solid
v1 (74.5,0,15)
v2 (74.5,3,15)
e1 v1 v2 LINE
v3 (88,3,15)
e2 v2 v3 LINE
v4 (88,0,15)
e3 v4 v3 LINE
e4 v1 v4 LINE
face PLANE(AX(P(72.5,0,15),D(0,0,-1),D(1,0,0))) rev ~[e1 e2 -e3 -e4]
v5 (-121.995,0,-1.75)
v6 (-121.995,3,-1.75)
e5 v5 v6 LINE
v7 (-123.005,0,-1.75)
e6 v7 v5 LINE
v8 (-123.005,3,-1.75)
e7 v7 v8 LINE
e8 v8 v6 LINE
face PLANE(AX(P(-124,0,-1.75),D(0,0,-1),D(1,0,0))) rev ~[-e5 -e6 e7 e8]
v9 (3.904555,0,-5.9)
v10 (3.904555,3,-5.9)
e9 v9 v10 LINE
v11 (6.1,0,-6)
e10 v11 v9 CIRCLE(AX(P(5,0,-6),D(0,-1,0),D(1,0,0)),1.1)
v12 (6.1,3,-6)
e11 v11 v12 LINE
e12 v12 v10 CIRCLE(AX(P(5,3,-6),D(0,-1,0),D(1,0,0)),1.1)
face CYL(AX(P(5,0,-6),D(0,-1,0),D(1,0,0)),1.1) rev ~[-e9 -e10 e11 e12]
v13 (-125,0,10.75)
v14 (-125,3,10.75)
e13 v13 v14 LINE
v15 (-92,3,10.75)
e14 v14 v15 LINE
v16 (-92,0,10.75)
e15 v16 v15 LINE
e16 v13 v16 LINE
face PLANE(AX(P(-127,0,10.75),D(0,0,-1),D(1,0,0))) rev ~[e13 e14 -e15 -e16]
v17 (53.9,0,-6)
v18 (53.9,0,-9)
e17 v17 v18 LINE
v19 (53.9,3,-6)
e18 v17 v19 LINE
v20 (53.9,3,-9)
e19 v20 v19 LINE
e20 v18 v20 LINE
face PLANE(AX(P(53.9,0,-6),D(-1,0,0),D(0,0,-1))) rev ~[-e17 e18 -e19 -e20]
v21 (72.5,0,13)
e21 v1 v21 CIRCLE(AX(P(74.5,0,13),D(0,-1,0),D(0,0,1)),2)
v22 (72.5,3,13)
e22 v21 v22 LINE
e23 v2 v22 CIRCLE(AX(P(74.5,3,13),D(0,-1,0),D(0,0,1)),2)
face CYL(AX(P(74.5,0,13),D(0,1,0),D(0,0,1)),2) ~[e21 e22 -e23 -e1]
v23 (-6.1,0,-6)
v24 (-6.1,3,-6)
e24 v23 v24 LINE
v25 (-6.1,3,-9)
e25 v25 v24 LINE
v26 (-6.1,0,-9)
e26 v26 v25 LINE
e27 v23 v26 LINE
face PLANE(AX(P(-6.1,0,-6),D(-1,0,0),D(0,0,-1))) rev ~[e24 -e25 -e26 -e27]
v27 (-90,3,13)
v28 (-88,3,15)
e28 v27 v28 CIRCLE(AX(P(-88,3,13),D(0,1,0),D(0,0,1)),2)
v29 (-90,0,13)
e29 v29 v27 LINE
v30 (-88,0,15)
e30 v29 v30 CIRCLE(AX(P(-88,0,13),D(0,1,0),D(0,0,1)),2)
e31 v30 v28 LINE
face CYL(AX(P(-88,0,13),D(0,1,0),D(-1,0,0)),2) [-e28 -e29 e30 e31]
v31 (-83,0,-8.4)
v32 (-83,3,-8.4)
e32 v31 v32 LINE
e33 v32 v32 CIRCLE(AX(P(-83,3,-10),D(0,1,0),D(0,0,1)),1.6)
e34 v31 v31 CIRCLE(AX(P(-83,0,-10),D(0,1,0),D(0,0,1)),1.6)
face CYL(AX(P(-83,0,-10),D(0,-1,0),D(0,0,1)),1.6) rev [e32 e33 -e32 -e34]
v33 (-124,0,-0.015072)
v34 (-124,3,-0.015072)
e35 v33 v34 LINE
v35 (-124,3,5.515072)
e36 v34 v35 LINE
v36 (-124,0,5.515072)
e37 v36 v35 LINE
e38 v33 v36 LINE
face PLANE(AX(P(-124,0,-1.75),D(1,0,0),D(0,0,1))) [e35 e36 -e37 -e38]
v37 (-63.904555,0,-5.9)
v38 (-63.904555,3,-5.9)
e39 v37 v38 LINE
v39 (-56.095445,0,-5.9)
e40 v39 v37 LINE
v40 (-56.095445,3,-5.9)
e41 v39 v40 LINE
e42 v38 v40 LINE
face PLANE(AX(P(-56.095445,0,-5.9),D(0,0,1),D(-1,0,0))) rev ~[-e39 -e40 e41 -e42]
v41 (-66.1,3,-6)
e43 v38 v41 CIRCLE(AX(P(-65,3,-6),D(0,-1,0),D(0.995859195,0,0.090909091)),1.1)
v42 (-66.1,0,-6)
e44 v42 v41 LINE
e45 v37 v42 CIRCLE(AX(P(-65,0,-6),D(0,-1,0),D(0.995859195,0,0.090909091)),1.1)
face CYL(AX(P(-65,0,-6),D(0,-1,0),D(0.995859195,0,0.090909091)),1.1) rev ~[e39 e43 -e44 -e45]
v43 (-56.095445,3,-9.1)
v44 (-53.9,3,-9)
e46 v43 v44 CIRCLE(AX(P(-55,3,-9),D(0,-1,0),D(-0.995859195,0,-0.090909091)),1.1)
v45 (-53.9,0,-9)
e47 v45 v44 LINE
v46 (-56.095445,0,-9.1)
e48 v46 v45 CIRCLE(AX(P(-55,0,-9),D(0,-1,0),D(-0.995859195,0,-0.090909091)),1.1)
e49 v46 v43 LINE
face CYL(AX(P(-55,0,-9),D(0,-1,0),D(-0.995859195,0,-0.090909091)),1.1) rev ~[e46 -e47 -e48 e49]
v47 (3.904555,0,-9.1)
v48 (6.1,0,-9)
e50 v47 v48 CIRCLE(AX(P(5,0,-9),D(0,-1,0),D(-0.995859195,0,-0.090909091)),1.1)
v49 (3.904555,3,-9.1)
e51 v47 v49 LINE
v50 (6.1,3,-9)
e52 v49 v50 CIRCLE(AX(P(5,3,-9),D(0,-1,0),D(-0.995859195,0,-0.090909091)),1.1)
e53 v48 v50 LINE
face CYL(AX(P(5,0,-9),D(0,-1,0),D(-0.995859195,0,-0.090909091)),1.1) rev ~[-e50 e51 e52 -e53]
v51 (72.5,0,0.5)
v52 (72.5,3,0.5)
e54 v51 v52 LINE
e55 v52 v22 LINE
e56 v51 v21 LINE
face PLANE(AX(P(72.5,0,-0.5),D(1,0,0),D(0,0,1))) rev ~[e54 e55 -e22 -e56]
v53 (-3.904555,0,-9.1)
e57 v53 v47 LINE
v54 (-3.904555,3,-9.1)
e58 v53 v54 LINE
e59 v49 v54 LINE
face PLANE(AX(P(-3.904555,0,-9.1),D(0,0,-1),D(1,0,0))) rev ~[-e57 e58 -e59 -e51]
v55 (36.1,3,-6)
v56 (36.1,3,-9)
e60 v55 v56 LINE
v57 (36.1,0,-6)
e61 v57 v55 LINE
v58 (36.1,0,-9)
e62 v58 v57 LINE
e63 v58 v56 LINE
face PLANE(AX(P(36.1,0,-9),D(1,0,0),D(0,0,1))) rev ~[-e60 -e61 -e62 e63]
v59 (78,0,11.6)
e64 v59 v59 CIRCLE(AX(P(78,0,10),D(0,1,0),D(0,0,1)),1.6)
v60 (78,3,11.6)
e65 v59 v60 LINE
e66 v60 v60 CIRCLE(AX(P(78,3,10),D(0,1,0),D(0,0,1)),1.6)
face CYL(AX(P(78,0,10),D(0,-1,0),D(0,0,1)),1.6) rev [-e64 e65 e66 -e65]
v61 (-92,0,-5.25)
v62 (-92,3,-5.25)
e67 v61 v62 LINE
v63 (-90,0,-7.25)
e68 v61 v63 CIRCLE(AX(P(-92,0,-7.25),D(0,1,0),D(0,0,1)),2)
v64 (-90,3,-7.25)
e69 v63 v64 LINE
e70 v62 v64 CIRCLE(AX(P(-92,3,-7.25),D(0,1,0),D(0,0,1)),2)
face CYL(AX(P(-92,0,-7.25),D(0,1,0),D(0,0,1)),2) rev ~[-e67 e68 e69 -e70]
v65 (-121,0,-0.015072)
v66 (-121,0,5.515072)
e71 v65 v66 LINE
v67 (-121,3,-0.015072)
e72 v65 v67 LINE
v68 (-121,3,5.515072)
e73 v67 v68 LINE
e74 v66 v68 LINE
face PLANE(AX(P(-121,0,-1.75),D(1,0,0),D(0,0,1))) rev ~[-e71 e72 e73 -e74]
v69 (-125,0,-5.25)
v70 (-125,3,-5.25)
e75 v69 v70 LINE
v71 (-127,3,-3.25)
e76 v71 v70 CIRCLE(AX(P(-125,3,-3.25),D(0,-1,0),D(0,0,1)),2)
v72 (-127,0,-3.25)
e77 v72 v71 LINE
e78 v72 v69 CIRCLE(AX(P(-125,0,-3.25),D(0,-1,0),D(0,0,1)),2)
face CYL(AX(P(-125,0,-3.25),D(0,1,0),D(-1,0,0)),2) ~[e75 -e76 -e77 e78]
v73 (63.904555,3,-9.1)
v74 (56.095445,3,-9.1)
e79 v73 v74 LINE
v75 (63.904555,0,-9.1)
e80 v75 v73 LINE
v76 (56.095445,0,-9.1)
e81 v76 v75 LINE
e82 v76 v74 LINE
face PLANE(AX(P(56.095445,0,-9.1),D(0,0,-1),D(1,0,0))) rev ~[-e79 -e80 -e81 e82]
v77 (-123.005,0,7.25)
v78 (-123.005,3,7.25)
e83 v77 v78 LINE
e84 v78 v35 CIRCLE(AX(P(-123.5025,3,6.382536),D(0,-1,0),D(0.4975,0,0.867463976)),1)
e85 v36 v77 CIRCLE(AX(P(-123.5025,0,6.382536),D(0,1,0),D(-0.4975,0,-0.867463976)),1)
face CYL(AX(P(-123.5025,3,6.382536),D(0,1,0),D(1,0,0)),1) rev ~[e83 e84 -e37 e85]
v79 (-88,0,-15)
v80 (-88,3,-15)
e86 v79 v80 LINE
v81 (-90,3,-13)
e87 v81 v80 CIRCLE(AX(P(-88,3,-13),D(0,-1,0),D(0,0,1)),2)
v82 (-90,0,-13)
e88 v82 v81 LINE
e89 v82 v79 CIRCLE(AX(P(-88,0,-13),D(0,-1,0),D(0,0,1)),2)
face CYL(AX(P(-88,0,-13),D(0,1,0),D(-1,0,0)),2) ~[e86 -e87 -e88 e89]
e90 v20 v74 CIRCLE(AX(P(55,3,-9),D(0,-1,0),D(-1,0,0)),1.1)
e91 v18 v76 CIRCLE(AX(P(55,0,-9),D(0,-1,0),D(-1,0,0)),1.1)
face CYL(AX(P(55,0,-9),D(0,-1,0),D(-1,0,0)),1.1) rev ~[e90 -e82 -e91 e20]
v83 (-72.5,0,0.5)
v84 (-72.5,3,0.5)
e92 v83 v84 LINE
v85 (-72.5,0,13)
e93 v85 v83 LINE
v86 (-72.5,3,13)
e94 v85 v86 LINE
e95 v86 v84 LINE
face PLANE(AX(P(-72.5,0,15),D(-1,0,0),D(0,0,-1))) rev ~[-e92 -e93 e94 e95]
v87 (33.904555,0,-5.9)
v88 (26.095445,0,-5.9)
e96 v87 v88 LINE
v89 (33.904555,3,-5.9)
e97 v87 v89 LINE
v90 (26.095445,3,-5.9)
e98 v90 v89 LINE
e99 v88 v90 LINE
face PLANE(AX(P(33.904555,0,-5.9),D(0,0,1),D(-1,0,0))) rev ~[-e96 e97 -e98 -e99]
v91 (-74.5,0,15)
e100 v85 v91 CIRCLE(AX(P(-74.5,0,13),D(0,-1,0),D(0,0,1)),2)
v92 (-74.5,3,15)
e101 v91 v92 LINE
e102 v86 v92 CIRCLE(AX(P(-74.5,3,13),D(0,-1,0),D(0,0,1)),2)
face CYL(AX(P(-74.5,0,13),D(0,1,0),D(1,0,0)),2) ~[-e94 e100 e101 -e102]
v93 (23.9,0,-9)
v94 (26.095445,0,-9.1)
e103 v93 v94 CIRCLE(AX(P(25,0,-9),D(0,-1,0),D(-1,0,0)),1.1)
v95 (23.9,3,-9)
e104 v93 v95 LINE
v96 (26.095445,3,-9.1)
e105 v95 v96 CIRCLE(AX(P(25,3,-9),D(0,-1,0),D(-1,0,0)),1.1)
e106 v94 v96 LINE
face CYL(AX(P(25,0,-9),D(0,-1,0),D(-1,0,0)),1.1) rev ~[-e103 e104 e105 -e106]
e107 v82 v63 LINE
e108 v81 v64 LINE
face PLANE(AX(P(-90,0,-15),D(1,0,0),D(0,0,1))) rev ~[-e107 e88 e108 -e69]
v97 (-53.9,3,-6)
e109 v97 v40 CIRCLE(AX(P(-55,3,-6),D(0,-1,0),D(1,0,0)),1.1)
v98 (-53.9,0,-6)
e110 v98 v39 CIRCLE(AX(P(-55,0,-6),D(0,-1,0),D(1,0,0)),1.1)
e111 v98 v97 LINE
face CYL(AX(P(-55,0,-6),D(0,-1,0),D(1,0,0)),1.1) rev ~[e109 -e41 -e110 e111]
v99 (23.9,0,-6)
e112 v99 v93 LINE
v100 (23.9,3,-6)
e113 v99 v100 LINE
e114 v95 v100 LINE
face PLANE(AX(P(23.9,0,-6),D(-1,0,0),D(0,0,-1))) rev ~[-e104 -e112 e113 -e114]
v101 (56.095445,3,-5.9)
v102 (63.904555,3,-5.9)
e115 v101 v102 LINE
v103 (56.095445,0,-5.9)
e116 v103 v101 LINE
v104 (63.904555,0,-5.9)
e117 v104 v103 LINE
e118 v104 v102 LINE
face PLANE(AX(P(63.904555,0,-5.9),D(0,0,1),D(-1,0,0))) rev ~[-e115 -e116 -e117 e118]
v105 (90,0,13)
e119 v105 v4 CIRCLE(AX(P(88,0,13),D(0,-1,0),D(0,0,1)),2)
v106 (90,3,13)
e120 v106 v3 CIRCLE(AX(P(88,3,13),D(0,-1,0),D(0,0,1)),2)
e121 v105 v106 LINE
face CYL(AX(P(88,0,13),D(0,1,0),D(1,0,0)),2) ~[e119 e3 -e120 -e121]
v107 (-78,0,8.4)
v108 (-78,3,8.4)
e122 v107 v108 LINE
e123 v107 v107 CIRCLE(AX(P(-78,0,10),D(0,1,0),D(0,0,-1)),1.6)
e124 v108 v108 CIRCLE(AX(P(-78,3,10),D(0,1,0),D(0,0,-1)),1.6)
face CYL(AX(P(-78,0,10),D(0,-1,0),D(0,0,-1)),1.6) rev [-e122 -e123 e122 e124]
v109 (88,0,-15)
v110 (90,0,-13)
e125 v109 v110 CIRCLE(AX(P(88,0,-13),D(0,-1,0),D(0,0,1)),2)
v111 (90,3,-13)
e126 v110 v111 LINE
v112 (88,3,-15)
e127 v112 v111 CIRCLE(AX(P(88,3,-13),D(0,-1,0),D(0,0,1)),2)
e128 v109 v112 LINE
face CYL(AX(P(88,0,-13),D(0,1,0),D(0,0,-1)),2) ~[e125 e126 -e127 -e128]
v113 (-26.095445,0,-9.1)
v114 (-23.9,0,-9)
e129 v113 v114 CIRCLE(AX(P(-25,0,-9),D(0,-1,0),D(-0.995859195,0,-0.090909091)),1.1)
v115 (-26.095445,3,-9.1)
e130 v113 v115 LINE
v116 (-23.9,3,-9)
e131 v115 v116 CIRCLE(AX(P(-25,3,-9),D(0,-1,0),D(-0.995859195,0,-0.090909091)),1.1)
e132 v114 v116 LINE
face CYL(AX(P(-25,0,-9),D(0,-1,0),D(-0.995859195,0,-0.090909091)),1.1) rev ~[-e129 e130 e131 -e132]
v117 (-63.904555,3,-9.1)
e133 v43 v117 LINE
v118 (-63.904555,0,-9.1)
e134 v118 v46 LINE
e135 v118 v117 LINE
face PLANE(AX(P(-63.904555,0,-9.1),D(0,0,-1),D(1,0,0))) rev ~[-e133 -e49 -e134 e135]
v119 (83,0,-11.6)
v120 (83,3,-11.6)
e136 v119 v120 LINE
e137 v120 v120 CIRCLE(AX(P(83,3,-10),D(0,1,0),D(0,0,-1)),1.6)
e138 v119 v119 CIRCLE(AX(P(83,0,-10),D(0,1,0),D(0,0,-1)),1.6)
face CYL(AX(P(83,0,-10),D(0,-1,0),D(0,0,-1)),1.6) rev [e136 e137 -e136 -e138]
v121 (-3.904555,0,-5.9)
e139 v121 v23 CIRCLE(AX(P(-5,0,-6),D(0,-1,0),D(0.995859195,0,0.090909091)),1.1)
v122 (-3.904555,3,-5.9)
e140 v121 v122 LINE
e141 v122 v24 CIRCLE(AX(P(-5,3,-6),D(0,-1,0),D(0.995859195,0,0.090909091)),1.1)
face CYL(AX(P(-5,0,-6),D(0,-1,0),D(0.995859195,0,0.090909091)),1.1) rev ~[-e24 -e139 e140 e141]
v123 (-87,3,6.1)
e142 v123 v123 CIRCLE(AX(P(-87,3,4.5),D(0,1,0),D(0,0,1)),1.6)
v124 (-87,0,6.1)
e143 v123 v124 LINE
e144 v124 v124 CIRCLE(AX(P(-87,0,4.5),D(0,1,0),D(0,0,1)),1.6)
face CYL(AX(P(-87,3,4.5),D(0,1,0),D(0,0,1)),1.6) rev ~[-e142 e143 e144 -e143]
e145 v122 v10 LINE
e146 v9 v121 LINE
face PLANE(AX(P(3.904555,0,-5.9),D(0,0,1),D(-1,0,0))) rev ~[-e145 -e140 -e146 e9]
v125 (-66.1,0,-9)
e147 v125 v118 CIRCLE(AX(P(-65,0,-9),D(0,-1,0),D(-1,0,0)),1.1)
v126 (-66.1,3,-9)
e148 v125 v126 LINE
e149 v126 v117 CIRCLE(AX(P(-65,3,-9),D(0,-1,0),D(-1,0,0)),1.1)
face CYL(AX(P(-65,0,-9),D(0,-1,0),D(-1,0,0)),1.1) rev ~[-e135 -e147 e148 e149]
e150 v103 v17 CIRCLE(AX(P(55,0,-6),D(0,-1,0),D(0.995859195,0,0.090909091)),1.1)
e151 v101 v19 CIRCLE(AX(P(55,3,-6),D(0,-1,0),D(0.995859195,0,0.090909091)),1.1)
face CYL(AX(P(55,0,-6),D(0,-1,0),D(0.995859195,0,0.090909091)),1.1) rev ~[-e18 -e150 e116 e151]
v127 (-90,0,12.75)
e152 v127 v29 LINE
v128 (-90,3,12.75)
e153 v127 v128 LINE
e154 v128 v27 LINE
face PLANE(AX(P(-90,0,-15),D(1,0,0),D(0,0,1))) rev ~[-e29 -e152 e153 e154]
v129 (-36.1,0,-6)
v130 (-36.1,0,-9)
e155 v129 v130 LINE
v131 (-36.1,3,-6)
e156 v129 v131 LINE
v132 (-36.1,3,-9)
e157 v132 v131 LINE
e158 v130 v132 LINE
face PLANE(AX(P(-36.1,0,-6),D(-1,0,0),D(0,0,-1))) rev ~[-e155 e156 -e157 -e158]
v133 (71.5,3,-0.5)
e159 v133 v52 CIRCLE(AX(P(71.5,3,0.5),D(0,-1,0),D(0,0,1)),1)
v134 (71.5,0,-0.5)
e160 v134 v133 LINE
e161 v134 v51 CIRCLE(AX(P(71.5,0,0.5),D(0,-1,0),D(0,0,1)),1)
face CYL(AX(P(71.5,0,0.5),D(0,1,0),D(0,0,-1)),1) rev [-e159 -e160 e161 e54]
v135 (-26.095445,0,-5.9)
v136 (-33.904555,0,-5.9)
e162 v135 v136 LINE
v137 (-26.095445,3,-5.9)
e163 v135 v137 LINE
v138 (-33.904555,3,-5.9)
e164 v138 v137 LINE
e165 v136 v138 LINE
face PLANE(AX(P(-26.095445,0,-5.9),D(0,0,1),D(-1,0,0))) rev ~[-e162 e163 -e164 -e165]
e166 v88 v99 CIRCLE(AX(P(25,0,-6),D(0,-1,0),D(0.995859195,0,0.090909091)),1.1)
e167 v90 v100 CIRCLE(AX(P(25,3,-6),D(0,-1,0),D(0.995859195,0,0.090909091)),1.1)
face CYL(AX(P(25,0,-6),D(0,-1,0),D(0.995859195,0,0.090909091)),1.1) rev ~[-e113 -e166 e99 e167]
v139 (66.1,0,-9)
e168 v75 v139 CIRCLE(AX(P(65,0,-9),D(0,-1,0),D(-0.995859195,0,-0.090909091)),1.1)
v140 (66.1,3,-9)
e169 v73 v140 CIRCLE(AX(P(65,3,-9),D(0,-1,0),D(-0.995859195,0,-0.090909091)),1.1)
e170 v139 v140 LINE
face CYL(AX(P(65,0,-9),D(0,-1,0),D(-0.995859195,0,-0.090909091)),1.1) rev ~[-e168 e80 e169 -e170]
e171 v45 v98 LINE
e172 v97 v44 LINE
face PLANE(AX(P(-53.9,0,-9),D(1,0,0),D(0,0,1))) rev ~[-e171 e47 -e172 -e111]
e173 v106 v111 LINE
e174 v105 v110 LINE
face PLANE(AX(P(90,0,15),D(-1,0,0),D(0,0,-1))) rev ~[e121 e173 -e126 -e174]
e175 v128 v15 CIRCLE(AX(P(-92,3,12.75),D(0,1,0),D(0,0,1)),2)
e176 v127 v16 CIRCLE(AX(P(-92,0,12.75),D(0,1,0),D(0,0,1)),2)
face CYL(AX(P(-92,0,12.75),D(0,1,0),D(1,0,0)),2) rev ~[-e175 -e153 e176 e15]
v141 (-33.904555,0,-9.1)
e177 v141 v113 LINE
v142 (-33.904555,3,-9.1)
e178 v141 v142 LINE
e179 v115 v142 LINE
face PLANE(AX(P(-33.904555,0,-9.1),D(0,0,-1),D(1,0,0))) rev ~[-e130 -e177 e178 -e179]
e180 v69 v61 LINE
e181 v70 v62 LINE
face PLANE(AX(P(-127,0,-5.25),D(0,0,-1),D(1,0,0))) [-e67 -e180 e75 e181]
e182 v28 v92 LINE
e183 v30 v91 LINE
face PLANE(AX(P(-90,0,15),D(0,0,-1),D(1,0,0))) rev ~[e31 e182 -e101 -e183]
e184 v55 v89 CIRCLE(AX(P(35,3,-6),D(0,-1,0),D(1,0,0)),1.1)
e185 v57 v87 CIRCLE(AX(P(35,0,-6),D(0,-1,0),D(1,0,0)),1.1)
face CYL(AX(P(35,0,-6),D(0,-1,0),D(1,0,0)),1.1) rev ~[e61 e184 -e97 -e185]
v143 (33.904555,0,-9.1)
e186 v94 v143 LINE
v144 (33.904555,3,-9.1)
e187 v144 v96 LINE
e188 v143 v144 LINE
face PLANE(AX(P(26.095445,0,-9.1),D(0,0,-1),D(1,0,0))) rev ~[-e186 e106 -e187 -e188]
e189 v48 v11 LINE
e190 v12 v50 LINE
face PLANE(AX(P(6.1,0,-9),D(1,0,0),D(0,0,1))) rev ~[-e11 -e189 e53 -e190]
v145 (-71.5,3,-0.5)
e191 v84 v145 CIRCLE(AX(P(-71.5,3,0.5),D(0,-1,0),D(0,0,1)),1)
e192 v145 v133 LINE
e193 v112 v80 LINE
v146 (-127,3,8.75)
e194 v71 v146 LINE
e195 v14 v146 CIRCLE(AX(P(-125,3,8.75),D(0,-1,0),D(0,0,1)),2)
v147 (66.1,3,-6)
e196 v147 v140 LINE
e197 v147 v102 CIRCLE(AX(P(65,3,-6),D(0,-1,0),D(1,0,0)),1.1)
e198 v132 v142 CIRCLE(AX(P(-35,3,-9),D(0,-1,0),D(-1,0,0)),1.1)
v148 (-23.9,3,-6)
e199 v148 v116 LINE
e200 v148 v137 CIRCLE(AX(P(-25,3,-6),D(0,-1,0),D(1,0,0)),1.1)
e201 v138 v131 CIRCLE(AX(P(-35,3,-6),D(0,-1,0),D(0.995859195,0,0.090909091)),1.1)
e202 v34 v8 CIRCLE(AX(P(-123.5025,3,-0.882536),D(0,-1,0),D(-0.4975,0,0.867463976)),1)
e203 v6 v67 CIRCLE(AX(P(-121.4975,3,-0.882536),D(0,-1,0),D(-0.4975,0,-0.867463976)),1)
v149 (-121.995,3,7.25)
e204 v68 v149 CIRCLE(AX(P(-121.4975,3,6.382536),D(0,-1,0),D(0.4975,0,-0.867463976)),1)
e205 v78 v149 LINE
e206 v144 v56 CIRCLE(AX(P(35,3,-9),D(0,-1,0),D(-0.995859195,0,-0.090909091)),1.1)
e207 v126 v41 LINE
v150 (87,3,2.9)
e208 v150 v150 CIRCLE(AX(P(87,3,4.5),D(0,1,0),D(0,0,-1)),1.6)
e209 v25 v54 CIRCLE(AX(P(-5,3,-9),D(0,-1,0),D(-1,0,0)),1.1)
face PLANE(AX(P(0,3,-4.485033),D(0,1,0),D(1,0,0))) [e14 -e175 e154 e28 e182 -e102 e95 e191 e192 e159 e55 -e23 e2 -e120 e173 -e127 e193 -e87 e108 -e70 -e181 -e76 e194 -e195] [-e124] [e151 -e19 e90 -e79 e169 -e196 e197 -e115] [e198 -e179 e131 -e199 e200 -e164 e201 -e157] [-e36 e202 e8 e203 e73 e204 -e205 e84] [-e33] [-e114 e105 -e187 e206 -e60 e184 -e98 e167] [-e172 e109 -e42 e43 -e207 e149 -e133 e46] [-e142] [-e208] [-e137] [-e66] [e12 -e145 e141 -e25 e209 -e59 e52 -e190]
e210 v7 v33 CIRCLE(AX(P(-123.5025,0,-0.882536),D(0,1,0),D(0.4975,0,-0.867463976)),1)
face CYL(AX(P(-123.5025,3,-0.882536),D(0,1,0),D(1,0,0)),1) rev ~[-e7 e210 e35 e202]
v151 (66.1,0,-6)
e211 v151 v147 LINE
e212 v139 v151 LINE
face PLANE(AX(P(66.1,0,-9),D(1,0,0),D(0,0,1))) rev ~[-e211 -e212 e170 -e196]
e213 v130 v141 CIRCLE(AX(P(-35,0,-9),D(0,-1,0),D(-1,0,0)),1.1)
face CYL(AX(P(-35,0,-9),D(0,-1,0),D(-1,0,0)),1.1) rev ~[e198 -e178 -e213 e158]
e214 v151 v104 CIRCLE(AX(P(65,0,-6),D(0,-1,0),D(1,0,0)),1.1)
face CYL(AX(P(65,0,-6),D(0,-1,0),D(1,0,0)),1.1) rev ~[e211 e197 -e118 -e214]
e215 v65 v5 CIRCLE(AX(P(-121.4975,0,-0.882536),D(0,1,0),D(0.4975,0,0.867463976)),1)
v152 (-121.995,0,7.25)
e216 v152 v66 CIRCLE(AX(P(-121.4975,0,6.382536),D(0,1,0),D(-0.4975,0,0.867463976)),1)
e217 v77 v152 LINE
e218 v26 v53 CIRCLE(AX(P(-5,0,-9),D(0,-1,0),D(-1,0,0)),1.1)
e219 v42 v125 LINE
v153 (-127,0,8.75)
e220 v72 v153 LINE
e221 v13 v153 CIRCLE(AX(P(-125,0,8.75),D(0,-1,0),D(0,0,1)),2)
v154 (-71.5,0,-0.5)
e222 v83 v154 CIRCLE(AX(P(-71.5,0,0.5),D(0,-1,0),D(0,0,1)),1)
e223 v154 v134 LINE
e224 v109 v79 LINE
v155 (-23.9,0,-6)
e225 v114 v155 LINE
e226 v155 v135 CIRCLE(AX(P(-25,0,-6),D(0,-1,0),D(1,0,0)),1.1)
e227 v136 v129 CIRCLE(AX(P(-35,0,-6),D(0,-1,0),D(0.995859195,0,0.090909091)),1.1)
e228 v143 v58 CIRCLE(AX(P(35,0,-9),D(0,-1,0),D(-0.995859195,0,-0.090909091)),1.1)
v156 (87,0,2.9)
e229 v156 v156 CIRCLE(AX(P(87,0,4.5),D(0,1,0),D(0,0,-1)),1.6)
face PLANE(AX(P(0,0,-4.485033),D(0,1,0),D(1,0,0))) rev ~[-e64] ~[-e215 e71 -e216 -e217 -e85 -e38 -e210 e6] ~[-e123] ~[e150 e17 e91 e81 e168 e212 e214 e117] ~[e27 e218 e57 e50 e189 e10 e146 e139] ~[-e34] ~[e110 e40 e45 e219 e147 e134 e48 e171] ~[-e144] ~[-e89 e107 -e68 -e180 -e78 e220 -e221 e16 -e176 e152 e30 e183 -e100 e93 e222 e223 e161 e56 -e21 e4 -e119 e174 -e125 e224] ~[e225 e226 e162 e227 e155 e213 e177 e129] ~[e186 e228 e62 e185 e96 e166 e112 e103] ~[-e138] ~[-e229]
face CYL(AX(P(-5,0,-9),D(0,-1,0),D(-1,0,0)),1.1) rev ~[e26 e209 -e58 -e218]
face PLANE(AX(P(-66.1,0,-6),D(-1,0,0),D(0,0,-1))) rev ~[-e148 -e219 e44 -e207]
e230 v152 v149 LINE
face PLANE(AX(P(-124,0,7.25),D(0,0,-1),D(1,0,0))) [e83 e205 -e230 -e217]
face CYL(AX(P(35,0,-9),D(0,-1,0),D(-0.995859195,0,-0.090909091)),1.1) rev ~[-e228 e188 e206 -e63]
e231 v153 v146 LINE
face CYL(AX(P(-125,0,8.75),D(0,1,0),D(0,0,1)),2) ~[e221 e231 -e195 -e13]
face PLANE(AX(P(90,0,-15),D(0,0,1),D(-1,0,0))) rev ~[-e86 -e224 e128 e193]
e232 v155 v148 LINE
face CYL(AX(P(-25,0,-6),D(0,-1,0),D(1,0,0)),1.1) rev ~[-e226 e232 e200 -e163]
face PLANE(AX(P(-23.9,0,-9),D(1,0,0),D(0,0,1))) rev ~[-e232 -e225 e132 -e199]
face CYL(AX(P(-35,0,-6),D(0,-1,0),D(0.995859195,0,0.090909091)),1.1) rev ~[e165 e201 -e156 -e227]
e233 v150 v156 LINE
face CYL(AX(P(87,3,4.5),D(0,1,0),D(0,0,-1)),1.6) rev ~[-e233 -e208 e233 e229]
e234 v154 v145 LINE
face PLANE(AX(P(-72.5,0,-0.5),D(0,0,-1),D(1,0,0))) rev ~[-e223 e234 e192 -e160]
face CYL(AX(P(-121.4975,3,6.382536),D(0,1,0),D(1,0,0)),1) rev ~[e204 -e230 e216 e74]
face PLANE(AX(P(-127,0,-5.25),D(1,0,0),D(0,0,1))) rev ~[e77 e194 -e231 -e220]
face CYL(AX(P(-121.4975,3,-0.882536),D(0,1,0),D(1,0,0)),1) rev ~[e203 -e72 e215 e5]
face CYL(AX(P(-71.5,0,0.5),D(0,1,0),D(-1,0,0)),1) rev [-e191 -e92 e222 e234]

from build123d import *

# Parameters (mm, degrees)
SKETCH_1_R          = 1.6
EXTRUDE_1_DEPTH     = 3
SKETCH_3_R          = 1.6
CUT_EXTRUDE_1_DEPTH = 92.290744328
FILLET_1_R          = 1
SKETCH_4_W          = 12
SKETCH_4_H          = 3
CUT_EXTRUDE_2_DEPTH = 92.290744328
SKETCH_5_R          = 1
CUT_EXTRUDE_3_DEPTH = 92.290744328
CUT_EXTRUDE_4_DEPTH = 92.290744328
SKETCH_7_W          = 37
SKETCH_7_H          = 16
SKETCH_7_W_2        = 3
SKETCH_7_H_2        = 9
EXTRUDE_2_DEPTH     = 3
SKETCH_8_R          = 1
CUT_EXTRUDE_5_DEPTH = 128.917942447
FILLET_3_R          = 2


with BuildPart() as part:
    # 草图1 → 凸台-拉伸1 (new body)
    with BuildSketch(Plane(origin=(0, 0, 0), x_dir=(1, 0, 0), z_dir=(0, 1, 0))):
        Polygon((-90, -15), (-72.5, -15), (-72.5, 0.5), (72.5, 0.5), (72.5, -15), (90, -15), (90, 15), (-90, 15), align=None)
        with Locations(Location((78, -10, 0), (0, 0, 270))):
            Circle(SKETCH_1_R, mode=Mode.SUBTRACT)
        with Locations(Location((-78, -10, 0), (0, 0, 90))):
            Circle(SKETCH_1_R, mode=Mode.SUBTRACT)
        with Locations(Location((-83, 10, 0), (0, 0, 270))):
            Circle(SKETCH_1_R, mode=Mode.SUBTRACT)
        with Locations(Location((83, 10, 0), (0, 0, 90))):
            Circle(SKETCH_1_R, mode=Mode.SUBTRACT)
    extrude(amount=EXTRUDE_1_DEPTH)

    # 草图3 → 切除-拉伸1 (cut, through all)
    with BuildSketch(Plane(origin=(0, 3, 0), x_dir=(1, 0, 0), z_dir=(0, 1, 0))):
        with Locations(Location((87, -4.5, 0), (0, 0, 90))):
            Circle(SKETCH_3_R)
        with Locations(Location((-87, -4.5, 0), (0, 0, 270))):
            Circle(SKETCH_3_R)
    extrude(amount=-CUT_EXTRUDE_1_DEPTH, mode=Mode.SUBTRACT)

    # 圆角1
    fillet_1_edges = [part.edges().sort_by_distance(p)[0] for p in [
        (72.5, 1.5, -0.5),
        (-72.5, 1.5, -0.5),
    ]]
    fillet(fillet_1_edges, radius=FILLET_1_R)

    # 草图4 → 切除-拉伸2 (cut, through all)
    with BuildSketch(Plane.XZ):
        with Locations((60, -7.5)):
            Rectangle(SKETCH_4_W, SKETCH_4_H)
        with Locations((30, -7.5)):
            Rectangle(SKETCH_4_W, SKETCH_4_H)
        with Locations((0, -7.5)):
            Rectangle(SKETCH_4_W, SKETCH_4_H)
        with Locations((-30, -7.5)):
            Rectangle(SKETCH_4_W, SKETCH_4_H)
        with Locations((-60, -7.5)):
            Rectangle(SKETCH_4_W, SKETCH_4_H)
    extrude(amount=-CUT_EXTRUDE_2_DEPTH, mode=Mode.SUBTRACT)

    # 草图5 → 切除-拉伸3 (cut, through all)
    with BuildSketch(Plane.XZ):
        with Locations((65, -9)):
            Circle(SKETCH_5_R)
        with Locations((55, -9)):
            Circle(SKETCH_5_R)
        with Locations((55, -6)):
            Circle(SKETCH_5_R)
        with Locations((65, -6)):
            Circle(SKETCH_5_R)
        with Locations((35, -9)):
            Circle(SKETCH_5_R)
        with Locations((25, -9)):
            Circle(SKETCH_5_R)
        with Locations((25, -6)):
            Circle(SKETCH_5_R)
        with Locations((35, -6)):
            Circle(SKETCH_5_R)
        with Locations((5, -9)):
            Circle(SKETCH_5_R)
        with Locations((-5, -9)):
            Circle(SKETCH_5_R)
        with Locations((-5, -6)):
            Circle(SKETCH_5_R)
        with Locations((5, -6)):
            Circle(SKETCH_5_R)
        with Locations((-25, -9)):
            Circle(SKETCH_5_R)
        with Locations((-35, -9)):
            Circle(SKETCH_5_R)
        with Locations((-35, -6)):
            Circle(SKETCH_5_R)
        with Locations((-25, -6)):
            Circle(SKETCH_5_R)
        with Locations((-55, -9)):
            Circle(SKETCH_5_R)
        with Locations((-65, -9)):
            Circle(SKETCH_5_R)
        with Locations((-65, -6)):
            Circle(SKETCH_5_R)
        with Locations((-55, -6)):
            Circle(SKETCH_5_R)
    extrude(amount=-CUT_EXTRUDE_3_DEPTH, mode=Mode.SUBTRACT)

    # 草图6 → 切除-拉伸4 (cut, through all)
    with BuildSketch(Plane.XZ):
        with BuildLine():
            Line((36.1, -9), (36.1, -6))
            ThreePointArc((36.1, -6), (35.050051841, -4.901139311), (33.904554885, -5.9))
            Line((33.904554885, -5.9), (26.095445115, -5.9))
            ThreePointArc((26.095445115, -5.9), (24.949948159, -4.901139311), (23.9, -6))
            Line((23.9, -6), (23.9, -9))
            ThreePointArc((23.9, -9), (24.949948159, -10.098860689), (26.095445115, -9.1))
            Line((26.095445115, -9.1), (33.904554885, -9.1))
            ThreePointArc((33.904554885, -9.1), (35.050051841, -10.098860689), (36.1, -9))
        make_face()
        with BuildLine():
            Line((66.1, -9), (66.1, -6))
            ThreePointArc((66.1, -6), (65.050051841, -4.901139311), (63.904554885, -5.9))
            Line((63.904554885, -5.9), (56.095445115, -5.9))
            ThreePointArc((56.095445115, -5.9), (54.949948159, -4.901139311), (53.9, -6))
            Line((53.9, -6), (53.9, -9))
            ThreePointArc((53.9, -9), (54.949948159, -10.098860689), (56.095445115, -9.1))
            Line((56.095445115, -9.1), (63.904554885, -9.1))
            ThreePointArc((63.904554885, -9.1), (65.050051841, -10.098860689), (66.1, -9))
        make_face()
        with BuildLine():
            Line((6.1, -9), (6.1, -6))
            ThreePointArc((6.1, -6), (5.050051841, -4.901139311), (3.904554885, -5.9))
            Line((3.904554885, -5.9), (-3.904554885, -5.9))
            ThreePointArc((-3.904554885, -5.9), (-5.050051841, -4.901139311), (-6.1, -6))
            Line((-6.1, -6), (-6.1, -9))
            ThreePointArc((-6.1, -9), (-5.050051841, -10.098860689), (-3.904554885, -9.1))
            Line((-3.904554885, -9.1), (3.904554885, -9.1))
            ThreePointArc((3.904554885, -9.1), (5.050051841, -10.098860689), (6.1, -9))
        make_face()
        with BuildLine():
            Line((-23.9, -9), (-23.9, -6))
            ThreePointArc((-23.9, -6), (-24.949948159, -4.901139311), (-26.095445115, -5.9))
            Line((-26.095445115, -5.9), (-33.904554885, -5.9))
            ThreePointArc((-33.904554885, -5.9), (-35.050051841, -4.901139311), (-36.1, -6))
            Line((-36.1, -6), (-36.1, -9))
            ThreePointArc((-36.1, -9), (-35.050051841, -10.098860689), (-33.904554885, -9.1))
            Line((-33.904554885, -9.1), (-26.095445115, -9.1))
            ThreePointArc((-26.095445115, -9.1), (-24.949948159, -10.098860689), (-23.9, -9))
        make_face()
        with BuildLine():
            Line((-53.9, -9), (-53.9, -6))
            ThreePointArc((-53.9, -6), (-54.949948159, -4.901139311), (-56.095445115, -5.9))
            Line((-56.095445115, -5.9), (-63.904554885, -5.9))
            ThreePointArc((-63.904554885, -5.9), (-65.050051841, -4.901139311), (-66.1, -6))
            Line((-66.1, -6), (-66.1, -9))
            ThreePointArc((-66.1, -9), (-65.050051841, -10.098860689), (-63.904554885, -9.1))
            Line((-63.904554885, -9.1), (-56.095445115, -9.1))
            ThreePointArc((-56.095445115, -9.1), (-54.949948159, -10.098860689), (-53.9, -9))
        make_face()
    extrude(amount=-CUT_EXTRUDE_4_DEPTH, mode=Mode.SUBTRACT)

    # 草图7 → 凸台-拉伸2 (add)
    with BuildSketch(Plane.XZ):
        with Locations((-108.5, 2.75)):
            Rectangle(SKETCH_7_W, SKETCH_7_H)
        with Locations((-122.5, 2.75)):
            Rectangle(SKETCH_7_W_2, SKETCH_7_H_2, mode=Mode.SUBTRACT)
    extrude(amount=-EXTRUDE_2_DEPTH)

    # 草图8 → 切除-拉伸5 (cut, through all)
    with BuildSketch(Plane(origin=(0, 3, 0), x_dir=(1, 0, 0), z_dir=(0, 1, 0))):
        with Locations((-123.5025, 0.882536024)):
            Circle(SKETCH_8_R)
        with Locations((-121.4975, 0.882536024)):
            Circle(SKETCH_8_R)
        with Locations((-121.4975, -6.382536024)):
            Circle(SKETCH_8_R)
        with Locations((-123.5025, -6.382536024)):
            Circle(SKETCH_8_R)
    extrude(amount=-CUT_EXTRUDE_5_DEPTH, mode=Mode.SUBTRACT)

    # 圆角3
    fillet_3_edges = [part.edges().sort_by_distance(p)[0] for p in [
        (90, 1.5, 15),
        (72.5, 1.5, 15),
        (-72.5, 1.5, 15),
        (-90, 1.5, 15),
        (-90, 1.5, -15),
        (90, 1.5, -15),
        (-127, 1.5, 10.75),
        (-127, 1.5, -5.25),
        (-90, 1.5, -5.25),
        (-90, 1.5, 10.75),
    ]]
    fillet(fillet_3_edges, radius=FILLET_3_R)


solid = part.part
